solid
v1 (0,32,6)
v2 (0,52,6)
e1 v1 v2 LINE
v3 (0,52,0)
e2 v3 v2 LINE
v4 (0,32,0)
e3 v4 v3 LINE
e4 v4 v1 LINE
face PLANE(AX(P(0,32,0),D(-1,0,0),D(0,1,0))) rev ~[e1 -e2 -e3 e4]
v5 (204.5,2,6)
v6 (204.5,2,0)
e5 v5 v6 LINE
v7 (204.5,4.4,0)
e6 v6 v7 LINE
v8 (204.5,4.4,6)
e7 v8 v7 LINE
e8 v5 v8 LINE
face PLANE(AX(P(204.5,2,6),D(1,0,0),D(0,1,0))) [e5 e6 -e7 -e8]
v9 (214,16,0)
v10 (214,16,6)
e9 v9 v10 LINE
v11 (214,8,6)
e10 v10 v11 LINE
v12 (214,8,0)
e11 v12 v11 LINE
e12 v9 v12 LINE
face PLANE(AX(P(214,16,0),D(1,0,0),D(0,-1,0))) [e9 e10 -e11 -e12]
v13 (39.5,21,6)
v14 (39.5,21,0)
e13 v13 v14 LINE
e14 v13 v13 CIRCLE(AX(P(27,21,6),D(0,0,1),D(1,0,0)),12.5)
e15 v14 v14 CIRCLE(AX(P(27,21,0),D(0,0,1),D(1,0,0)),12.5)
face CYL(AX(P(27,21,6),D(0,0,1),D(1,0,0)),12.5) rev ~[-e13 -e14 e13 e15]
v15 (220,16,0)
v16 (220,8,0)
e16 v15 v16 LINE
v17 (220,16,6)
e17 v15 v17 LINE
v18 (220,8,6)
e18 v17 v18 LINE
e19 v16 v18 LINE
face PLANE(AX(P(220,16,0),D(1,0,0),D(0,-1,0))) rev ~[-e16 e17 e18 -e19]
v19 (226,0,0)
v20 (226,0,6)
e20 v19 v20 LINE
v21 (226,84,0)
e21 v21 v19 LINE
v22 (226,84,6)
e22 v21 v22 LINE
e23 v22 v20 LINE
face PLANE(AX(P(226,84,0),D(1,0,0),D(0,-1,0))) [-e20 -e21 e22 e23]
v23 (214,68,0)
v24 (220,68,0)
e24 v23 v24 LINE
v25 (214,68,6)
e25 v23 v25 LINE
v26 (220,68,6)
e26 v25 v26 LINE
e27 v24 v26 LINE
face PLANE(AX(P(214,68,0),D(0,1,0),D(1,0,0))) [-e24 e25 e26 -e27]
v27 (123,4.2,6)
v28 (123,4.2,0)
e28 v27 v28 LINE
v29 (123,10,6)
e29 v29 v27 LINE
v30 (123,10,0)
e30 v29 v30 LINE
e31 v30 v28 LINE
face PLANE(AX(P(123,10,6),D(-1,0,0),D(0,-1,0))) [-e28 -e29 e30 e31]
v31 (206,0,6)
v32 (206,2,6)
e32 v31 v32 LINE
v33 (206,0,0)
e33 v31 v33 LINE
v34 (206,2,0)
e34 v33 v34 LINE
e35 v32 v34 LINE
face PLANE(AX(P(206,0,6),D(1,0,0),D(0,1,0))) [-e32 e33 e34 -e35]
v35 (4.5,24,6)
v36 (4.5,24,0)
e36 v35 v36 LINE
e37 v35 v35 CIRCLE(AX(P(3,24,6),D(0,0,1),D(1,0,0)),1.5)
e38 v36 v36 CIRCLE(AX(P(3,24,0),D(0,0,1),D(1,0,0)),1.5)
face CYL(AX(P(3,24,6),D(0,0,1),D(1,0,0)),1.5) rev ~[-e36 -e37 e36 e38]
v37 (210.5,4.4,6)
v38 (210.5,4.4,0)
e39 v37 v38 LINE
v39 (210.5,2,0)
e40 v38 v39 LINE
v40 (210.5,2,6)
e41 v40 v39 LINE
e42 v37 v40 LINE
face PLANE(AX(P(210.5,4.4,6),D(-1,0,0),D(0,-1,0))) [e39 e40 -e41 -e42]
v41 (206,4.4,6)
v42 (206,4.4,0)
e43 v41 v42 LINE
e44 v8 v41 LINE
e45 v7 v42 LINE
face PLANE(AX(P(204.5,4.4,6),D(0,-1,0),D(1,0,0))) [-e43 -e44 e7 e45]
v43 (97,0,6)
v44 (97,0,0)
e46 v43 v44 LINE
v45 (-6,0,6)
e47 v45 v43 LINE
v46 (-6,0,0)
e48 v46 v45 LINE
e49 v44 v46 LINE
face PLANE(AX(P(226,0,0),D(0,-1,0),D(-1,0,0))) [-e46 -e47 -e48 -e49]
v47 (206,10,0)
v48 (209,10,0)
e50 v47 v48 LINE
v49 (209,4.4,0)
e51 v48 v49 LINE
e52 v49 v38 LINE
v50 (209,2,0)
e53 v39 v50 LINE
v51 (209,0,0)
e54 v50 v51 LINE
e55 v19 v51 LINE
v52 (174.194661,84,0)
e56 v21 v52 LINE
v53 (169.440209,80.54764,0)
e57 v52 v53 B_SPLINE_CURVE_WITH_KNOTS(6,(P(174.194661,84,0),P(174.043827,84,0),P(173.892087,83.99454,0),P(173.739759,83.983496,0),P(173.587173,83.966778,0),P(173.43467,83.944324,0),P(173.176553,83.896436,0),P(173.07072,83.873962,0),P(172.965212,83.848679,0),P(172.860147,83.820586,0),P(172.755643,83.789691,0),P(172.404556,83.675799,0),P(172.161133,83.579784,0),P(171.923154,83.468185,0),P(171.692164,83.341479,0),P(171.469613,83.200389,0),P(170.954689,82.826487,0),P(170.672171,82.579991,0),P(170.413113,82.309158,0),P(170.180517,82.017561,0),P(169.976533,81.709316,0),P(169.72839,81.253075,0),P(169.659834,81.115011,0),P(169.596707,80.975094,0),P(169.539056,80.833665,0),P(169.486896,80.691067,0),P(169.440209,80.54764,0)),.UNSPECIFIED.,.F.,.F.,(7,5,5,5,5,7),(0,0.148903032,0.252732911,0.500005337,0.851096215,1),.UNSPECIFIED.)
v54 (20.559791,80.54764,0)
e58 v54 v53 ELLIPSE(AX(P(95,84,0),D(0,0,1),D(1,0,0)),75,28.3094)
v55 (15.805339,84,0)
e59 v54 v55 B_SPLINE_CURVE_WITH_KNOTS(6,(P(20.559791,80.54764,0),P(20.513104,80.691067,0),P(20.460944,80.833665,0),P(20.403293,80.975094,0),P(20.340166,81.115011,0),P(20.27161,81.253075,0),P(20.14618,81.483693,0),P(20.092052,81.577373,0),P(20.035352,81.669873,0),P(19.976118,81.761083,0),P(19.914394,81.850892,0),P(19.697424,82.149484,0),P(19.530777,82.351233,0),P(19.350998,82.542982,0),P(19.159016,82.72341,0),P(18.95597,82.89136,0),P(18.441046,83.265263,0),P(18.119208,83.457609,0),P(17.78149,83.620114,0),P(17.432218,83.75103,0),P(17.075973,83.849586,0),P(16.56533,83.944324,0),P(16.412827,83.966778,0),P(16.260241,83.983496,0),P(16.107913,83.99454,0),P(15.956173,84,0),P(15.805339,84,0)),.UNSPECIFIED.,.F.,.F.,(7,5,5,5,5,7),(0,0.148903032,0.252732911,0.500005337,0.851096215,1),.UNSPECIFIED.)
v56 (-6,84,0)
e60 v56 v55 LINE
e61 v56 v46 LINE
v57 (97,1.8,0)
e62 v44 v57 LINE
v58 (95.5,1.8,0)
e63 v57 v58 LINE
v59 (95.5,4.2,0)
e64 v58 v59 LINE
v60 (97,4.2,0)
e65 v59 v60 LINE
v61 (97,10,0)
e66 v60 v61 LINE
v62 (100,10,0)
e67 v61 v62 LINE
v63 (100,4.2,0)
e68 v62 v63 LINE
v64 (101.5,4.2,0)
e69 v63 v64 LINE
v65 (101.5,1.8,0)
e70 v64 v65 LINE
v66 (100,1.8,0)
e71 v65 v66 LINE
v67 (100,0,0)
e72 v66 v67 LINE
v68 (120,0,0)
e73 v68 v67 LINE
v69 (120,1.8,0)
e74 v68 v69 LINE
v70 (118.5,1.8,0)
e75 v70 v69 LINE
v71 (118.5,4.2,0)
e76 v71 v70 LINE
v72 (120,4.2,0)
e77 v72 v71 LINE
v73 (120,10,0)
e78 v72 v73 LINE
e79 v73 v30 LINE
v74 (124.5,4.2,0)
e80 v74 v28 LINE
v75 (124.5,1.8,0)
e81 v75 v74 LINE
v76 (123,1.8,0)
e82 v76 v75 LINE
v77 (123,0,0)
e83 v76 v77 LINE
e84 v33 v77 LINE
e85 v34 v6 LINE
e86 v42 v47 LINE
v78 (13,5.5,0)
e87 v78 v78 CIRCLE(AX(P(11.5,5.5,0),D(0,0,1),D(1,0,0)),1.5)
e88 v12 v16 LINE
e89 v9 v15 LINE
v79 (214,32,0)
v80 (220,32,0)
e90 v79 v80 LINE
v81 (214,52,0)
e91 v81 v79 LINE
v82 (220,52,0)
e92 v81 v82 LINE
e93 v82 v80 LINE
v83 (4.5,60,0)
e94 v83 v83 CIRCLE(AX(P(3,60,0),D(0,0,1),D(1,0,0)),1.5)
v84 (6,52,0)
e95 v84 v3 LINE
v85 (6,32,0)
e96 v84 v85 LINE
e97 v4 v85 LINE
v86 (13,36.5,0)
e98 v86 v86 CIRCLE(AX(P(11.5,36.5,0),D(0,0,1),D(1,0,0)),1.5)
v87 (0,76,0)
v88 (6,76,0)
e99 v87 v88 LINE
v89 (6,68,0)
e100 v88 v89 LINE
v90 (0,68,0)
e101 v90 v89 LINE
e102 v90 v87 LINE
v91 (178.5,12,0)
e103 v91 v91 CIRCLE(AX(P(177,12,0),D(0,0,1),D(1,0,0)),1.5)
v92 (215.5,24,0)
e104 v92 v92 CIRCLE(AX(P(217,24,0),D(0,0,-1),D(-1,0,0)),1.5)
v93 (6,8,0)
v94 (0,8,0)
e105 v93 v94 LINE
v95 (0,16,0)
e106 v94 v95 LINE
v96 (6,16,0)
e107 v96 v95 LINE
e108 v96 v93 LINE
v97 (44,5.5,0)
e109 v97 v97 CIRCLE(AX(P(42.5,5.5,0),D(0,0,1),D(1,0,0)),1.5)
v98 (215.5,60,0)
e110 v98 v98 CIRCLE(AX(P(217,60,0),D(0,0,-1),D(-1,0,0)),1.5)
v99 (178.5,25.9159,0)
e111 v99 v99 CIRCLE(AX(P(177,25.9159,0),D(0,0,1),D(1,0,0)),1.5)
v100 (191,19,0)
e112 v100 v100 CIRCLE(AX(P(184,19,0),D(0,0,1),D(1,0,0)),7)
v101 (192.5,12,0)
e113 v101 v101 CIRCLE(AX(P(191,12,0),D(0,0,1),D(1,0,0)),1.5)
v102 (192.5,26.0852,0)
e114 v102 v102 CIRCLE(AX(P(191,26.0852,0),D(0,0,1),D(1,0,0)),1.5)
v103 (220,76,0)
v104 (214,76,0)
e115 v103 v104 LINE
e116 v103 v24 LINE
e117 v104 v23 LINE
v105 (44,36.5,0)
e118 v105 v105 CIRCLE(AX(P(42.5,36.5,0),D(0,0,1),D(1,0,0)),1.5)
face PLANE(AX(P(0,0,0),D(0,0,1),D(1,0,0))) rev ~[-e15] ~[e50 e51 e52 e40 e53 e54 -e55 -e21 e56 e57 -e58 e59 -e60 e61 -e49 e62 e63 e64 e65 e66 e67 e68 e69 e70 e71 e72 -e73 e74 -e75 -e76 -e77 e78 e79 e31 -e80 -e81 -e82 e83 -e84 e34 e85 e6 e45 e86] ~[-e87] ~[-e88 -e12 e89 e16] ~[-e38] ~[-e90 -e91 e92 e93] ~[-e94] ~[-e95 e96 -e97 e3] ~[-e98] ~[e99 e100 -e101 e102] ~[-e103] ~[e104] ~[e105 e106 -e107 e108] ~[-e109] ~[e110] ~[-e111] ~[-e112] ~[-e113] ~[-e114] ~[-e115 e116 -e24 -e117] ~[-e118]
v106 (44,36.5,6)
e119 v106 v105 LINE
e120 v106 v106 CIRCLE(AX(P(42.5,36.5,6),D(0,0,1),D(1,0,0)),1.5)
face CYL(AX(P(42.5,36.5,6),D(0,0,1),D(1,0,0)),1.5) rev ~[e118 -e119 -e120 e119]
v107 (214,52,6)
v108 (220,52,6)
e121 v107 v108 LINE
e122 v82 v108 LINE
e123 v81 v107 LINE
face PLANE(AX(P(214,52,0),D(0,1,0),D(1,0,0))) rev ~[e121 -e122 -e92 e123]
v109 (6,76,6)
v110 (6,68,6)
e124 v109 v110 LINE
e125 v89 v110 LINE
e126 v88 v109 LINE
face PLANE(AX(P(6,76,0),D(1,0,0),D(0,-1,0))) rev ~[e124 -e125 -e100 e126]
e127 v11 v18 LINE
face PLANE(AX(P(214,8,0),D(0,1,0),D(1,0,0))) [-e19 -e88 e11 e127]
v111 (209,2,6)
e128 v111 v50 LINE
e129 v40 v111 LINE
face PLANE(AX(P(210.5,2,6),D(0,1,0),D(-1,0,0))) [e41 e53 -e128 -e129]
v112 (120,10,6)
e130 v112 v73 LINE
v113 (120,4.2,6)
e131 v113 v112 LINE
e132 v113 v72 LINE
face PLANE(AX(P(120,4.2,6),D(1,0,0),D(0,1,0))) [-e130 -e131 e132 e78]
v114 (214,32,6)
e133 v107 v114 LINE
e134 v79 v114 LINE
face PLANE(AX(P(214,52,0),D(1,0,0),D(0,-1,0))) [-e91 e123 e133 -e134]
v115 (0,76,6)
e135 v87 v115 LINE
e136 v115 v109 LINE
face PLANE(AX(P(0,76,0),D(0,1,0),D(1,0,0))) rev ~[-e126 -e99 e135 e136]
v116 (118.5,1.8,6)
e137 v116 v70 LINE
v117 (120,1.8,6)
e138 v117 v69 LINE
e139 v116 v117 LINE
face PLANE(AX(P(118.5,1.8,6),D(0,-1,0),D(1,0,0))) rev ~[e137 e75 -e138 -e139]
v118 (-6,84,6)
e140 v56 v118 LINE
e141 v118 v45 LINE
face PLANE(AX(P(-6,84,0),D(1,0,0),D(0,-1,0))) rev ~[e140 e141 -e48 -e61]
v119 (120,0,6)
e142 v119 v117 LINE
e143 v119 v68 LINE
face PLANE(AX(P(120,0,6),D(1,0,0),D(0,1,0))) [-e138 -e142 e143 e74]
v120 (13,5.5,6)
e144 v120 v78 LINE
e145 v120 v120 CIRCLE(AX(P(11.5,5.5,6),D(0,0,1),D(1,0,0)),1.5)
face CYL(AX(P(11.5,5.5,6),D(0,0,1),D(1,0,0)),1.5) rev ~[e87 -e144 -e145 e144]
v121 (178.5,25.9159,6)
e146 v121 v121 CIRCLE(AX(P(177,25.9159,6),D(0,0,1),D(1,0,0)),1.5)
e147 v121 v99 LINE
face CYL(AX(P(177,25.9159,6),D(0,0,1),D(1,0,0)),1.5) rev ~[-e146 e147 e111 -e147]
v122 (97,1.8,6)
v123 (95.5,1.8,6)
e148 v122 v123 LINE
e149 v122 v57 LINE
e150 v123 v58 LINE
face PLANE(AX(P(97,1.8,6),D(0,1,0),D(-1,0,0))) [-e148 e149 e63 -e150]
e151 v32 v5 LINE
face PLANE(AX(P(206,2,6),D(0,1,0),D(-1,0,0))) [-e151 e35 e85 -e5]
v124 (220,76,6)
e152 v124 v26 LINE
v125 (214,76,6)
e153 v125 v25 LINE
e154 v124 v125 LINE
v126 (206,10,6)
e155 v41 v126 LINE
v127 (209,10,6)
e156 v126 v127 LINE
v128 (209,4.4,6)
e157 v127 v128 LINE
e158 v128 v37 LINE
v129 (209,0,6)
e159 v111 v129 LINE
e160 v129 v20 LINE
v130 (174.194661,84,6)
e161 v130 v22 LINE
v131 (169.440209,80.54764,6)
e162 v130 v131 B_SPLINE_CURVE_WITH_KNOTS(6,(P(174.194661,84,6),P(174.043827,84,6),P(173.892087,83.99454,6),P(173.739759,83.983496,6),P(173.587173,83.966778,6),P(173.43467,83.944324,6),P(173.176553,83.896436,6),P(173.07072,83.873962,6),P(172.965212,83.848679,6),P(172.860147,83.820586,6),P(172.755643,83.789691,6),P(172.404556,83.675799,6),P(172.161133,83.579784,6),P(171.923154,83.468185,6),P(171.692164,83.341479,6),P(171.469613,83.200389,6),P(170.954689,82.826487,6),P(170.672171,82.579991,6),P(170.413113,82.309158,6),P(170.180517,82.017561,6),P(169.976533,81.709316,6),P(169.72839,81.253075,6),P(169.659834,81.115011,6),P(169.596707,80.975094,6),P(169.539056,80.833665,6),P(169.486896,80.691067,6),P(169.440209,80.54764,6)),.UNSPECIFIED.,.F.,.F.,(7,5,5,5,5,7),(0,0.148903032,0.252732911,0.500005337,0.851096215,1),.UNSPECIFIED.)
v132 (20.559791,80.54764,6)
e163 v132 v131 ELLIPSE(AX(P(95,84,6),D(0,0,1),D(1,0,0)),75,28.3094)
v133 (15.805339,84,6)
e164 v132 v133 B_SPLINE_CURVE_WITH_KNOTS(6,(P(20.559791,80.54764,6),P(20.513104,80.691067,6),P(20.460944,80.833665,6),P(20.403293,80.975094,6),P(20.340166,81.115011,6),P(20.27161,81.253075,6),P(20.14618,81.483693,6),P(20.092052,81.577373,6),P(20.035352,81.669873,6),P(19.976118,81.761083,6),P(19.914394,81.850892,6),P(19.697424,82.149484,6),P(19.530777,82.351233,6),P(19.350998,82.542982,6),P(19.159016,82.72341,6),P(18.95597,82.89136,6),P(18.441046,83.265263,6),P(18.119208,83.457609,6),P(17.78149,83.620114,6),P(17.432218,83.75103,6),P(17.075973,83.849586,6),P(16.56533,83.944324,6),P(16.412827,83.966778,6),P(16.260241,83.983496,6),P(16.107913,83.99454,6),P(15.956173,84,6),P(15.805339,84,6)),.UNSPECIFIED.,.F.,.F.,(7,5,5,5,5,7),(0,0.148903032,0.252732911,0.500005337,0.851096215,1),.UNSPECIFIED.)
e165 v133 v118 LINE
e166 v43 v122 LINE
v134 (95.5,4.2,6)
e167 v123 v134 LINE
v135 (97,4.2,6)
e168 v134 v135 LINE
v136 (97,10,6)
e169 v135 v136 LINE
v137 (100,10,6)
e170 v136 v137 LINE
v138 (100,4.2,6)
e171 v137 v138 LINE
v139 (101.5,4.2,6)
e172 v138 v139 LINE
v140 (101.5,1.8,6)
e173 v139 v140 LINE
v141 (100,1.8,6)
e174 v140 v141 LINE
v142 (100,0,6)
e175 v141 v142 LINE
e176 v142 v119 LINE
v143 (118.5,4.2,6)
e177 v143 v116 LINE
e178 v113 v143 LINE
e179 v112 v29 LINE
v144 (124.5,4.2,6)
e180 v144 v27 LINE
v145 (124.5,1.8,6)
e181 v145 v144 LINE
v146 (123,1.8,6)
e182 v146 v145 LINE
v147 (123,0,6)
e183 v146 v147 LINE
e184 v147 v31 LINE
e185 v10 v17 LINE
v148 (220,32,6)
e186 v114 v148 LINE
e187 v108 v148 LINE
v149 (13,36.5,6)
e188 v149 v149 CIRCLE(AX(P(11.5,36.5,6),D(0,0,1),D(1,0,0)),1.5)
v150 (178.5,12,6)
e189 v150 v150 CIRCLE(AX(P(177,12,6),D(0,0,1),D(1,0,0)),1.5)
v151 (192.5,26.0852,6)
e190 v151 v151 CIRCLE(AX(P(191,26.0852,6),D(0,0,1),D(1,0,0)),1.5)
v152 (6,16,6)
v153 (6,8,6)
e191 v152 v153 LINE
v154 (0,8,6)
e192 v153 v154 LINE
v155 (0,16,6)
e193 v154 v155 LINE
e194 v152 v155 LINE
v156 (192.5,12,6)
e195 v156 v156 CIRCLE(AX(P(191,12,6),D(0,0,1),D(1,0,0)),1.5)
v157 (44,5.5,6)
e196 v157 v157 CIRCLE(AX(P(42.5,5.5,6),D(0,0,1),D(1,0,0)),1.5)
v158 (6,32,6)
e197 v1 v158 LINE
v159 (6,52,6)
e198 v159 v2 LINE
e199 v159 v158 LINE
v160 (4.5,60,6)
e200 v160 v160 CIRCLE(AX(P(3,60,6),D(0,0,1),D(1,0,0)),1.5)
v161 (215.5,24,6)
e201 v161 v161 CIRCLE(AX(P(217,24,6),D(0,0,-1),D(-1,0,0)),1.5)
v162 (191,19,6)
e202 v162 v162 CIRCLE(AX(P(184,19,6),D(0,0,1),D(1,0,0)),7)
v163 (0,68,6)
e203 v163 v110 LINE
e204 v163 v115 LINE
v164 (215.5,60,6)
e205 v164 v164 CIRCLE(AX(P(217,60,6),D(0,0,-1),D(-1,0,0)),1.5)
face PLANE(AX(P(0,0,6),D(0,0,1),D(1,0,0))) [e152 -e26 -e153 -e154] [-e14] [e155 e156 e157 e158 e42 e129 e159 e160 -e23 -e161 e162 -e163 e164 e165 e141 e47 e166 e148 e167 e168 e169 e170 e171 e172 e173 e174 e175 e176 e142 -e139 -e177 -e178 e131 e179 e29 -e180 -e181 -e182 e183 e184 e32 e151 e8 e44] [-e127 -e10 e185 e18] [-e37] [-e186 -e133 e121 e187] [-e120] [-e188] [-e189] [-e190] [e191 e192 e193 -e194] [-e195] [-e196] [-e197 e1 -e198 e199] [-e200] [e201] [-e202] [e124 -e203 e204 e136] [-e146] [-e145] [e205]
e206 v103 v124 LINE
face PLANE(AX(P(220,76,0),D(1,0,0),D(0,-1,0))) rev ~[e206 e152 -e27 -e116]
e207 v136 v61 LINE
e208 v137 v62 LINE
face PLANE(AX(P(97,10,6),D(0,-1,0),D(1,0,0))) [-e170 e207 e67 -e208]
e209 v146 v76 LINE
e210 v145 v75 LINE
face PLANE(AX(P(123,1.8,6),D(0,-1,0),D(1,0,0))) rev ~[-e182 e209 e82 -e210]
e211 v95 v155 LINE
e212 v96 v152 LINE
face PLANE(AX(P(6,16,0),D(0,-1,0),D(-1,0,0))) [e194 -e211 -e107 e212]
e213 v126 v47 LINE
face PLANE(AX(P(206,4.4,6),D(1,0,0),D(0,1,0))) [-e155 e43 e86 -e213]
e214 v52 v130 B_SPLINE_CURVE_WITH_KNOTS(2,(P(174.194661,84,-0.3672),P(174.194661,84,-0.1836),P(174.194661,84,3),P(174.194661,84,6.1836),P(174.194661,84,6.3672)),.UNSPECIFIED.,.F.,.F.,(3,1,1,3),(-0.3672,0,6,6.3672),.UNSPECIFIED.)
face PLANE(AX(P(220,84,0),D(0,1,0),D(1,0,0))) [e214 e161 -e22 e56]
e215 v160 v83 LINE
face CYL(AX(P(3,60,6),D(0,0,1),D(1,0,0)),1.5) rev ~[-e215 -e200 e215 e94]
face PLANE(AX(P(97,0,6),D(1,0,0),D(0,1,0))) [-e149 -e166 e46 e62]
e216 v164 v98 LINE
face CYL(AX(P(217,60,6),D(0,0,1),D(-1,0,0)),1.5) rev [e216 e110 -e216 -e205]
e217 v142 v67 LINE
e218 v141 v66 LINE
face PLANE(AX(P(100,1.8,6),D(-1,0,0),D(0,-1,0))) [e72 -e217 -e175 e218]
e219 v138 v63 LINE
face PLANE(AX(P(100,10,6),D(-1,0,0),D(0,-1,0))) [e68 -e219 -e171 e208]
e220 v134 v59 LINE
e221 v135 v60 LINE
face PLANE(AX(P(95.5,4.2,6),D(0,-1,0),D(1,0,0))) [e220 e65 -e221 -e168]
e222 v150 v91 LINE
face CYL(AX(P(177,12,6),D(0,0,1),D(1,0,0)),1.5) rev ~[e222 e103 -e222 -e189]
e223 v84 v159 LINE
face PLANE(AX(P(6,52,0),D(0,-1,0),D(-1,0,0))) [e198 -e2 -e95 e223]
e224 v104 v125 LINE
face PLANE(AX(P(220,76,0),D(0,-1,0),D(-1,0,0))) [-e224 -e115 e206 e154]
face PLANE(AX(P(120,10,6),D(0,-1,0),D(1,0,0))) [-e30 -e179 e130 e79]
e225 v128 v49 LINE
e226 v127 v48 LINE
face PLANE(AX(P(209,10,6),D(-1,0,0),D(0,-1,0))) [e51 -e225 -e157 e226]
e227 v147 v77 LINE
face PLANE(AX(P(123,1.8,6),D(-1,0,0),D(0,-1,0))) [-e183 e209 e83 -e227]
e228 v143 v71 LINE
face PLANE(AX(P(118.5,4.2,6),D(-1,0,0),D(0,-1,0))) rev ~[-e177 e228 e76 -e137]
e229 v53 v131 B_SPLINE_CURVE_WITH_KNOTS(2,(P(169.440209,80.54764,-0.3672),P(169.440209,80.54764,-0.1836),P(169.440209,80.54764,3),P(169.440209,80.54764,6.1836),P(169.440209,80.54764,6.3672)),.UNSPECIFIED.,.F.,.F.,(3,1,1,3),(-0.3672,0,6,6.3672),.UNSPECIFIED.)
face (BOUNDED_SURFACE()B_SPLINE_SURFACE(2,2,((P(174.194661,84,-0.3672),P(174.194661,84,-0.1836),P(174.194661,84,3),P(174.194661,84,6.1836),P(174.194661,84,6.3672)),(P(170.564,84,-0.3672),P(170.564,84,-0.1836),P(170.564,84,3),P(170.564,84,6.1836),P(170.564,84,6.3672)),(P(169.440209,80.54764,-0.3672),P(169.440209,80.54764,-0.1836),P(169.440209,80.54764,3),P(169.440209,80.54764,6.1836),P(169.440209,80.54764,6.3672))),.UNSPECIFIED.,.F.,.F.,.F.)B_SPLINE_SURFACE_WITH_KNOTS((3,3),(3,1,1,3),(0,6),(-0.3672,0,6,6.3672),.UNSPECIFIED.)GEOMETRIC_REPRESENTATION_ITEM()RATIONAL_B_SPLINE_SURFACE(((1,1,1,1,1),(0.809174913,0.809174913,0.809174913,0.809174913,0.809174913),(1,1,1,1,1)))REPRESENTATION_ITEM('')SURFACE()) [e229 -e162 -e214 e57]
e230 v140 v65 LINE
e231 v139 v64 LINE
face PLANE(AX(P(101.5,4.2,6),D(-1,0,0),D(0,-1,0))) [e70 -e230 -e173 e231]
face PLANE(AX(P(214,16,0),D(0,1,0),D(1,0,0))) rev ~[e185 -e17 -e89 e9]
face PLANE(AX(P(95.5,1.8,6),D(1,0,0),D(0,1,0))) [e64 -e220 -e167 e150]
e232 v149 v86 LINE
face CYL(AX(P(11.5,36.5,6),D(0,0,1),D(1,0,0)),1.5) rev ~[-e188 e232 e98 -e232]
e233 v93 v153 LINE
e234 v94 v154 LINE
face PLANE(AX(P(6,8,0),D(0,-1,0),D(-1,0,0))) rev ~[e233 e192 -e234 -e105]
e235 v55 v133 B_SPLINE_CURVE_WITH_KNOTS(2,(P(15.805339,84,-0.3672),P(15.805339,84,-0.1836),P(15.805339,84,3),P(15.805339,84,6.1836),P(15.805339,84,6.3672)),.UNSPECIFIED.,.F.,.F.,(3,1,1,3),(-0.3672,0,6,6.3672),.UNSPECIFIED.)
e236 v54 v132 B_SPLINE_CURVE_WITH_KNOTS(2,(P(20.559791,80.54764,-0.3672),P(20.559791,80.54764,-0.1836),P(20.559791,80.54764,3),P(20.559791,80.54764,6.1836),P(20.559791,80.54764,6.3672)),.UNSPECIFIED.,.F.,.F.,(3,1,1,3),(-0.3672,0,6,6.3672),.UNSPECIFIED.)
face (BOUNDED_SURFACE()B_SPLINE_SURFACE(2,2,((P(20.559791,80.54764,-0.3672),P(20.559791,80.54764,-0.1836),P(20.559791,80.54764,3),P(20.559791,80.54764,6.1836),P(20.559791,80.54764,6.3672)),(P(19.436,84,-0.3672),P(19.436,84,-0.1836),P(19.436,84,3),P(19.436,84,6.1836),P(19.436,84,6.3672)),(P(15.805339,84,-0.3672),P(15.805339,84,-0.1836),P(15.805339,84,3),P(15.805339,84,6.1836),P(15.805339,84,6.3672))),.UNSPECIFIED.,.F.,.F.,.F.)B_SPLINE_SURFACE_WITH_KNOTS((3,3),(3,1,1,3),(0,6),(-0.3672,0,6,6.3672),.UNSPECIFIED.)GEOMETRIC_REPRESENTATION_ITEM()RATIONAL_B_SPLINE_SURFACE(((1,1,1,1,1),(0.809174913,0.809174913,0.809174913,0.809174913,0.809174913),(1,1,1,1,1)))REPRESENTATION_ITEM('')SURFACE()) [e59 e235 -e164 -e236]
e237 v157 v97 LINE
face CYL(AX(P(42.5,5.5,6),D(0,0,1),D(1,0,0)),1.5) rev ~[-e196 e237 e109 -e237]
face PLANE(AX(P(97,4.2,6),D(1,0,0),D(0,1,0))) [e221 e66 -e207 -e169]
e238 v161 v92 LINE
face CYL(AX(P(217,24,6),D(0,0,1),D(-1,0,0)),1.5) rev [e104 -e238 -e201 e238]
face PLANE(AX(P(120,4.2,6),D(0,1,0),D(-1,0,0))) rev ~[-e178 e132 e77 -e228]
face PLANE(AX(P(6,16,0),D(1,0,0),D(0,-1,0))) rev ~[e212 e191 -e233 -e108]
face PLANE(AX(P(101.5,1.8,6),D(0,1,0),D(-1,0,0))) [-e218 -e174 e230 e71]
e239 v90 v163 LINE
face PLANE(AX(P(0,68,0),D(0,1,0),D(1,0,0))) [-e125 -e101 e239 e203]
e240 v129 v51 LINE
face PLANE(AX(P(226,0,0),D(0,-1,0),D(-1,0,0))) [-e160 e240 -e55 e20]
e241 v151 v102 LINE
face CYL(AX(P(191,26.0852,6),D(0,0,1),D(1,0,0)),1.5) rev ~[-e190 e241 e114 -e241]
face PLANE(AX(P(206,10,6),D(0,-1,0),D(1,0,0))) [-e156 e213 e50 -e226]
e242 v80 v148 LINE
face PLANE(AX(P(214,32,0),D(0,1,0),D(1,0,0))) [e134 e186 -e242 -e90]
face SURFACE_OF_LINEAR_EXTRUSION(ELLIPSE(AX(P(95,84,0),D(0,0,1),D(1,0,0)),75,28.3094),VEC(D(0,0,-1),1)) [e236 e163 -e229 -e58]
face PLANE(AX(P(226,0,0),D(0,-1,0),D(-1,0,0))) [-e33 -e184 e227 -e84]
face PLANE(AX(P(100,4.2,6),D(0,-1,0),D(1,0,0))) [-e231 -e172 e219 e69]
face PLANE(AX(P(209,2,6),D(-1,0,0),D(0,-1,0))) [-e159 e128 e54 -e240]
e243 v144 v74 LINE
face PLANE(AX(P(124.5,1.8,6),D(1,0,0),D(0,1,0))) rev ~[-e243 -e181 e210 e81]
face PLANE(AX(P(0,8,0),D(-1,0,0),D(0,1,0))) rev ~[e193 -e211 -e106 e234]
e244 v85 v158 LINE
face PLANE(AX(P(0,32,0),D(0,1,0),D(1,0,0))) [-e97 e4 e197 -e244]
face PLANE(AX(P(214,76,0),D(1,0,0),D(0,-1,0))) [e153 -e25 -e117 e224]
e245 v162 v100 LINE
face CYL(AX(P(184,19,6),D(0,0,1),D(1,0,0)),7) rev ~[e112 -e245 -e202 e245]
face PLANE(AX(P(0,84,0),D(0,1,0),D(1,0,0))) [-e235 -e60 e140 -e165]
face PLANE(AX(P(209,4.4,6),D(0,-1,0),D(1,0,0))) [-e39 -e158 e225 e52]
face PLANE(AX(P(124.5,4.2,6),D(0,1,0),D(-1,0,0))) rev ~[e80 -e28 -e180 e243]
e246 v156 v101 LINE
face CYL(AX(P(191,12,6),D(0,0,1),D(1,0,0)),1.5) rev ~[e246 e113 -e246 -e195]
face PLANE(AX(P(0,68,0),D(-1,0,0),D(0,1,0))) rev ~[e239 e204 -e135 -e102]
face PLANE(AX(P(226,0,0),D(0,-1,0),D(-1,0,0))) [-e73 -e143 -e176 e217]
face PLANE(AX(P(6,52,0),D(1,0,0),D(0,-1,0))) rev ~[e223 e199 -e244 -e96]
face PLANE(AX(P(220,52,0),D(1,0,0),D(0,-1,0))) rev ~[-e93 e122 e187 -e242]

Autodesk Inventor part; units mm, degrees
ref_plane "YZ Plane" through (0, 0, 0) normal (1, 0, 0) x (0, 1, 0)
ref_plane "XZ Plane" through (0, 0, 0) normal (0, 1, 0) x (-1, 0, 0)
ref_plane "XY Plane" through (0, 0, 0) normal (0, 0, 1) x (1, 0, 0)
sketch "Эскиз1" plane through (0, 0, 0) normal (0, 0, 1) x (1, 0, 0)
  line L0 (220, 84) -> (220, 0)
  line L1 (220, 0) -> (0, 0)
  line L2 (0, 0) -> (0, 84)
  line L3 (6, 0) -> (0, 0)
  line L4 (0, 76) -> (6, 76)
  line L5 (6, 76) -> (6, 8)
  line L6 (6, 8) -> (0, 8)
  line L7 (0, 8) -> (0, 76)
  ellipse E0 centre (95, 84) end of major axis (170, 84) minor radius 28.3094 (20, 84) -> (170, 84) ccw
  line L8 (0, 84) -> (20, 84)
  line L9 (170, 84) -> (220, 84)
  line L10 (220, 76) -> (214, 76)
  line L11 (214, 76) -> (214, 8)
  line L12 (214, 8) -> (220, 8)
  line L13 (220, 8) -> (220, 76)
  line L14 (0, 68) -> (6, 68)
  line L15 (6, 68) -> (6, 52)
  line L16 (6, 52) -> (0, 52)
  line L17 (0, 52) -> (0, 68)
  line L18 (0, 32) -> (6, 32)
  line L19 (6, 32) -> (6, 16)
  line L20 (6, 16) -> (0, 16)
  line L21 (0, 16) -> (0, 32)
  line L22 (214, 68) -> (220, 68)
  line L23 (214, 52) -> (220, 52)
  line L24 (214, 32) -> (220, 32)
  line L25 (214, 16) -> (220, 16)
  line L26 (0, 84) -> (-6, 84)
  line L27 (-6, 84) -> (-6, 0)
  line L28 (-6, 0) -> (0, 0)
  line L29 (0, 0) -> (0, 84)
  line L30 (220, 84) -> (226, 84)
  line L31 (226, 84) -> (226, 0)
  line L32 (226, 0) -> (220, 0)
  line L33 (220, 0) -> (220, 84)
  point P0 (217, 8)
  point P1 (220, 8)
  point P2 (3, 76)
  point P3 (3, 0)
  point P4 (217, 76)
  point P5 (3, 68)
  point P6 (0, 16)
  point P7 (0, 52)
  point P8 (217, 68)
  point P9 (217, 32)
  point P10 (217, 16)
  point P11 (217, 52)
  point P12 (220, 32)
  point P13 (220, 52)
  point P14 (220, 68)
  dimension "d1" = 75
  dimension "d0" = 220
  dimension "d2" = 125
  dimension "d3" = 84
  dimension "d4" = 150
  dimension "d5" = 84
  dimension "d6" = 6
  dimension "d7" = 8
  dimension "d10" = 6
  dimension "d11" = 8
  dimension "d12" = 8
  dimension "d13" = 8
  dimension "d14" = 84
  dimension "d35" = 8
  dimension "d36" = 8
  dimension "d37" = 16
  dimension "d38" = 16
  dimension "d39" = 8
  dimension "d40" = 8
  dimension "d41" = 16
  dimension "d42" = 16
  dimension "d96" = 6
  dimension "d97" = 6
extrude "Выдавливание1" add sketch "Эскиз1" along normal blind 6 contours L30 L31 L32 L0 | L0 L10 L11 L12 L1 L2 L6 L5 L4 L8 E0 L9 | L0 L23 L11 L22 | L2 L28 L27 L26 | L0 L25 L11 L24 | L14 L5 L16 L2 | L18 L5 L20 L2
sketch "Эскиз2" plane through (0, 0, 6) normal (0, 0, 1) x (1, 0, 0)
  line L0 (0, 0) -> (220, 0) projected
  line L1 (6, 0) -> (48, 0)
  line L2 (48, 0) -> (48, 8)
  line L3 (48, 8) -> (6, 8)
  line L4 (6, 8) -> (6, 0)
  line L5 (48, 0) -> (40, 0)
  line L6 (40, 0) -> (40, 42)
  line L7 (40, 42) -> (48, 42)
  line L8 (48, 42) -> (48, 0)
  line L9 (48, 42) -> (6, 42)
  line L10 (6, 42) -> (6, 34)
  line L11 (6, 34) -> (48, 34)
  line L12 (48, 34) -> (48, 42)
  line L13 (6, 42) -> (14, 42)
  line L14 (14, 42) -> (14, 0)
  line L15 (14, 0) -> (6, 0)
  line L16 (6, 0) -> (6, 42)
  line L17 (6, 16) -> (6, 8) projected
  circle A0 centre (11.5, 36.5) radius 1.5
  circle A1 centre (42.5, 36.5) radius 1.5
  circle A2 centre (42.5, 5.5) radius 1.5
  circle A3 centre (11.5, 5.5) radius 1.5
  circle A4 centre (184, 19) radius 7
  circle A5 centre (177, 25.9159) radius 1.5
  circle A6 centre (191, 26.0852) radius 1.5
  circle A7 centre (191, 12) radius 1.5
  circle A8 centre (177, 12) radius 1.5
  line L18 (177, 42.7055) -> (177, 0) construction
  line L19 (173.1146, 12) -> (210.5161, 12) construction
  line L20 (0, 0) -> (220, 0) projected
  line L21 (174.3072, 25.8833) -> (201.7049, 26.2146) construction
  line L22 (191, 29.1476) -> (191, 5.5) construction
  line L23 (214, 8) -> (214, 16) projected
  circle A9 centre (27, 21) radius 12.5
  point P0 (27, 0)
  point P1 (6, 76)
  point P2 (14, 34)
  point P3 (14, 8)
  point P4 (40, 8)
  point P5 (40, 34)
  dimension "d15" = 42
  dimension "d16" = 42
  dimension "d17" = 8
  dimension "d18" = 8
  dimension "d19" = 8
  dimension "d20" = 8
  dimension "d21" = 3
  dimension "d22" = 3
  dimension "d23" = 3
  dimension "d24" = 3
  dimension "d25" = 5.5
  dimension "d26" = 5.5
  dimension "d27" = 5.5
  dimension "d28" = 5.5
  dimension "d29" = 5.5
  dimension "d30" = 5.5
  dimension "d31" = 5.5
  dimension "d32" = 5.5
  dimension "d78" = 14
  dimension "d80" = 3
  dimension "d81" = 3
  dimension "d82" = 3
  dimension "d83" = 3
  dimension "d91" = 30
  dimension "d93" = 21
  dimension "d94" = 21
  dimension "d95" = 25
extrude "Выдавливание2" cut sketch "Эскиз2" against normal blind 6 contours A0 | A1 | A2 | A3 | A4 | A5 | A6 | A7 | A8 | A9
ref_plane "РабПлоскость1" through (110, 8, 0) normal (-1, 0, 0) x (0, 0, 1)
sketch "Эскиз5" plane through (0, 0, 0) normal (0, -1, 0) x (1, 0, 0)
  circle A0 centre (115, 3) radius 1.5
  circle A1 centre (105, 3) radius 1.5
  line L0 (110, -1.2) -> (110, 7.2) projected
  line L1 (0, 0) -> (220, 0) projected
  dimension "d70" = 5
  dimension "d71" = 5
  dimension "d72" = 3
  dimension "d73" = 3
  dimension "d74" = 3
  dimension "d75" = 3
extrude "Выдавливание3" [suppressed]
fillet "Сопряжение1" radius 5 2 edges at (170, 84, 3) (20, 84, 3)
sketch "Эскиз6" plane through (0, 0, 6) normal (0, 0, 1) x (1, 0, 0)
  line L0 (-6, 0) -> (226, 0) projected
  line L1 (100, 0) -> (97, 0)
  line L2 (97, 0) -> (97, 10)
  line L3 (97, 10) -> (100, 10)
  line L4 (100, 10) -> (100, 0)
  line L5 (123, 0) -> (120, 0)
  line L6 (120, 0) -> (120, 10)
  line L7 (120, 10) -> (123, 10)
  line L8 (123, 10) -> (123, 0)
  line L9 (124.5, 4.2) -> (118.5, 4.2)
  line L10 (118.5, 4.2) -> (118.5, 1.8)
  line L11 (118.5, 1.8) -> (124.5, 1.8)
  line L12 (124.5, 1.8) -> (124.5, 4.2)
  line L13 (95.5, 4.2) -> (101.5, 4.2)
  line L14 (101.5, 4.2) -> (101.5, 1.8)
  line L15 (101.5, 1.8) -> (95.5, 1.8)
  line L16 (95.5, 1.8) -> (95.5, 4.2)
  line L17 (110, -16.8) -> (110, 100.8) projected
  point P0 (0, 0)
  point P1 (120, 1.8)
  point P2 (120, 0)
  point P3 (123, 1.8)
  point P4 (123, 4.2)
  point P5 (120, 4.2)
  point P6 (97, 1.8)
  point P7 (97, 0)
  point P8 (100, 1.8)
  point P9 (100, 4.2)
  point P10 (97, 4.2)
  dimension "d98" = 10
  dimension "d99" = 10
  dimension "d100" = 13
  dimension "d101" = 3
  dimension "d102" = 3
  dimension "d103" = 10
  dimension "d104" = 6
  dimension "d105" = 8.5
  dimension "d106" = 2.4
  dimension "d107" = 1.8
  dimension "d108" = 2.4
  dimension "d109" = 6
  dimension "d110" = 8.5
extrude "Выдавливание4" cut sketch "Эскиз6" against normal blind 6
sketch "Эскиз7" plane through (0, 0, 6) normal (0, 0, 1) x (1, 0, 0)
  circle A0 centre (3, 60) radius 1.5
  circle A1 centre (3, 24) radius 1.5
  line L0 (6, 68) -> (0, 68) projected
  line L1 (6, 76) -> (6, 68) construction
  line L2 (0, 52) -> (6, 52) construction
  line L3 (6, 68) -> (6, 52) construction
  line L4 (6, 32) -> (0, 32) construction
  point P0 (0, 0)
  point P1 (3, 68)
  point P2 (3, 32)
  dimension "d113" = 3
  dimension "d114" = 3
  dimension "d115" = 8
  dimension "d116" = 3
  dimension "d118" = 8
  dimension "d119" = 3
extrude "Выдавливание5" cut sketch "Эскиз7" against normal blind 6
mirror "Зеркальное отражение2" about plane through (110, 8, 0) normal (-1, 0, 0) of "Выдавливание5"
sketch "Эскиз8" plane through (0, 0, 6) normal (0, 0, 1) x (1, 0, 0)
  circle A0 centre (217, 24) radius 1.5 projected
  circle A1 centre (217, 60) radius 1.5 projected
  circle A2 centre (3, 24) radius 1.5 projected
  circle A3 centre (3, 60) radius 1.5 projected
  line L0 (0, 8) -> (0, 16) projected
  line L1 (0, 16) -> (6, 16) projected
  line L2 (6, 16) -> (6, 8) projected
  line L3 (6, 8) -> (0, 8) projected
  line L4 (0, 32) -> (0, 52) projected
  line L5 (0, 52) -> (6, 52) projected
  line L6 (6, 52) -> (6, 32) projected
  line L7 (6, 32) -> (0, 32) projected
  line L8 (0, 68) -> (0, 76) projected
  line L9 (0, 76) -> (6, 76) projected
  line L10 (6, 76) -> (6, 68) projected
  line L11 (6, 68) -> (0, 68) projected
  line L12 (220, 76) -> (220, 68) projected
  line L13 (220, 68) -> (214, 68) projected
  line L14 (214, 68) -> (214, 76) projected
  line L15 (214, 76) -> (220, 76) projected
  line L16 (220, 52) -> (220, 32) projected
  line L17 (220, 32) -> (214, 32) projected
  line L18 (214, 32) -> (214, 52) projected
  line L19 (214, 52) -> (220, 52) projected
  line L20 (220, 16) -> (220, 8) projected
  line L21 (220, 8) -> (214, 8) projected
  line L22 (214, 8) -> (214, 16) projected
  line L23 (214, 16) -> (220, 16) projected
  circle A4 centre (27, 21) radius 12.5 projected
  circle A5 centre (177, 12) radius 1.5 projected
  circle A6 centre (42.5, 5.5) radius 1.5 projected
  circle A7 centre (42.5, 36.5) radius 1.5 projected
  circle A8 centre (177, 25.9159) radius 1.5 projected
  circle A9 centre (184, 19) radius 7 projected
  circle A10 centre (191, 12) radius 1.5 projected
  circle A11 centre (11.5, 5.5) radius 1.5 projected
  circle A12 centre (11.5, 36.5) radius 1.5 projected
  circle A13 centre (191, 26.0852) radius 1.5 projected
  line L24 (120, 0) -> (120, 1.8) projected
  line L25 (120, 1.8) -> (118.5, 1.8) projected
  line L26 (118.5, 1.8) -> (118.5, 4.2) projected
  line L27 (118.5, 4.2) -> (120, 4.2) projected
  line L28 (120, 4.2) -> (120, 10) projected
  line L29 (120, 10) -> (123, 10) projected
  line L30 (123, 10) -> (123, 4.2) projected
  line L31 (123, 4.2) -> (124.5, 4.2) projected
  line L32 (124.5, 4.2) -> (124.5, 1.8) projected
  line L33 (124.5, 1.8) -> (123, 1.8) projected
  line L34 (123, 1.8) -> (123, 0) projected
  line L35 (123, 0) -> (226, 0) projected
  line L36 (226, 0) -> (226, 84) projected
  line L37 (226, 84) -> (174.1947, 84) projected
  arc A14 (174.1947, 84) -> (169.4402, 80.5476) centre (174.1947, 79) ccw projected
  ellipse E0 centre (95, 84) end of major axis (20, 84) minor radius 28.3094 (20.5598, 80.5476) -> (169.4402, 80.5476) ccw projected
  arc A15 (20.5598, 80.5476) -> (15.8053, 84) centre (15.8053, 79) ccw projected
  line L38 (15.8053, 84) -> (-6, 84) projected
  line L39 (-6, 84) -> (-6, 0) projected
  line L40 (-6, 0) -> (97, 0) projected
  line L41 (97, 0) -> (97, 1.8) projected
  line L42 (97, 1.8) -> (95.5, 1.8) projected
  line L43 (95.5, 1.8) -> (95.5, 4.2) projected
  line L44 (95.5, 4.2) -> (97, 4.2) projected
  line L45 (97, 4.2) -> (97, 10) projected
  line L46 (97, 10) -> (100, 10) projected
  line L47 (100, 10) -> (100, 4.2) projected
  line L48 (100, 4.2) -> (101.5, 4.2) projected
  line L49 (101.5, 4.2) -> (101.5, 1.8) projected
  line L50 (101.5, 1.8) -> (100, 1.8) projected
  line L51 (100, 1.8) -> (100, 0) projected
  line L52 (100, 0) -> (120, 0) projected
  line L53 (214, 58.5) -> (220, 58.5)
  line L54 (220, 58.5) -> (220, 52)
  line L55 (214, 52) -> (220, 52)
  line L56 (214, 32) -> (214, 52)
  line L57 (220, 32) -> (214, 32)
  line L58 (220, 32) -> (220, 25.5)
  line L59 (220, 25.5) -> (214, 25.5)
  line L60 (214, 25.5) -> (214, 32)
  line L61 (214, 52) -> (214, 58.5)
  line L62 (220, 52) -> (220, 32)
  line L63 (220, 61.5) -> (214, 61.5)
  line L64 (214, 61.5) -> (214, 68)
  line L65 (214, 68) -> (214, 76)
  line L66 (214, 76) -> (214, 84)
  line L67 (214, 84) -> (220, 84)
  line L68 (220, 84) -> (220, 76)
  line L69 (220, 76) -> (220, 68)
  line L70 (220, 68) -> (220, 61.5)
  line L71 (220, 68) -> (214, 68)
  line L72 (214, 76) -> (220, 76)
  line L73 (214, -6) -> (214, 8)
  line L74 (214, 8) -> (214, 16)
  line L75 (214, 16) -> (214, 22.5)
  line L76 (214, 22.5) -> (220, 22.5)
  line L77 (220, 22.5) -> (220, 16)
  line L78 (220, 16) -> (220, 8)
  line L79 (220, 8) -> (220, -6)
  line L80 (220, -6) -> (214, -6)
  line L81 (220, 8) -> (214, 8)
  line L82 (214, 16) -> (220, 16)
  line L83 (209, 0) -> (206, 0)
  line L84 (206, 0) -> (206, 10)
  line L85 (206, 10) -> (209, 10)
  line L86 (209, 10) -> (209, 0)
  line L87 (204.5, 4.4) -> (210.5, 4.4)
  line L88 (210.5, 4.4) -> (210.5, 2)
  line L89 (210.5, 2) -> (204.5, 2)
  line L90 (204.5, 2) -> (204.5, 4.4)
  point P0 (0, 0)
  point P1 (204.5, 3.2)
  point P2 (207.5, 0)
  point P3 (206, 4.4)
  point P4 (206, 2)
  point P5 (209, 2)
  point P6 (209, 4.4)
  dimension "d122" = 5
  dimension "d123" = 3
  dimension "d124" = 2.4
  dimension "d125" = 6
  dimension "d126" = 1.5
  dimension "d127" = 2
  dimension "d128" = 10
extrude "Выдавливание6" cut sketch "Эскиз8" against normal through all contours L35 L84 L89 L86 | L89 L84 L87 L86 | L86 L87 L88 L89 | L89 L90 L87 L84 | L87 L84 L85 L86
equation "\"d36\" = d35"
equation "\"d38\" = d37"
equation "\"d40\" = d39"
equation "\"d42\" = d41"
equation "\"d22\" = d21"
equation "\"d23\" = d21"
equation "\"d24\" = d21"
properties part number "боковая стенка"
